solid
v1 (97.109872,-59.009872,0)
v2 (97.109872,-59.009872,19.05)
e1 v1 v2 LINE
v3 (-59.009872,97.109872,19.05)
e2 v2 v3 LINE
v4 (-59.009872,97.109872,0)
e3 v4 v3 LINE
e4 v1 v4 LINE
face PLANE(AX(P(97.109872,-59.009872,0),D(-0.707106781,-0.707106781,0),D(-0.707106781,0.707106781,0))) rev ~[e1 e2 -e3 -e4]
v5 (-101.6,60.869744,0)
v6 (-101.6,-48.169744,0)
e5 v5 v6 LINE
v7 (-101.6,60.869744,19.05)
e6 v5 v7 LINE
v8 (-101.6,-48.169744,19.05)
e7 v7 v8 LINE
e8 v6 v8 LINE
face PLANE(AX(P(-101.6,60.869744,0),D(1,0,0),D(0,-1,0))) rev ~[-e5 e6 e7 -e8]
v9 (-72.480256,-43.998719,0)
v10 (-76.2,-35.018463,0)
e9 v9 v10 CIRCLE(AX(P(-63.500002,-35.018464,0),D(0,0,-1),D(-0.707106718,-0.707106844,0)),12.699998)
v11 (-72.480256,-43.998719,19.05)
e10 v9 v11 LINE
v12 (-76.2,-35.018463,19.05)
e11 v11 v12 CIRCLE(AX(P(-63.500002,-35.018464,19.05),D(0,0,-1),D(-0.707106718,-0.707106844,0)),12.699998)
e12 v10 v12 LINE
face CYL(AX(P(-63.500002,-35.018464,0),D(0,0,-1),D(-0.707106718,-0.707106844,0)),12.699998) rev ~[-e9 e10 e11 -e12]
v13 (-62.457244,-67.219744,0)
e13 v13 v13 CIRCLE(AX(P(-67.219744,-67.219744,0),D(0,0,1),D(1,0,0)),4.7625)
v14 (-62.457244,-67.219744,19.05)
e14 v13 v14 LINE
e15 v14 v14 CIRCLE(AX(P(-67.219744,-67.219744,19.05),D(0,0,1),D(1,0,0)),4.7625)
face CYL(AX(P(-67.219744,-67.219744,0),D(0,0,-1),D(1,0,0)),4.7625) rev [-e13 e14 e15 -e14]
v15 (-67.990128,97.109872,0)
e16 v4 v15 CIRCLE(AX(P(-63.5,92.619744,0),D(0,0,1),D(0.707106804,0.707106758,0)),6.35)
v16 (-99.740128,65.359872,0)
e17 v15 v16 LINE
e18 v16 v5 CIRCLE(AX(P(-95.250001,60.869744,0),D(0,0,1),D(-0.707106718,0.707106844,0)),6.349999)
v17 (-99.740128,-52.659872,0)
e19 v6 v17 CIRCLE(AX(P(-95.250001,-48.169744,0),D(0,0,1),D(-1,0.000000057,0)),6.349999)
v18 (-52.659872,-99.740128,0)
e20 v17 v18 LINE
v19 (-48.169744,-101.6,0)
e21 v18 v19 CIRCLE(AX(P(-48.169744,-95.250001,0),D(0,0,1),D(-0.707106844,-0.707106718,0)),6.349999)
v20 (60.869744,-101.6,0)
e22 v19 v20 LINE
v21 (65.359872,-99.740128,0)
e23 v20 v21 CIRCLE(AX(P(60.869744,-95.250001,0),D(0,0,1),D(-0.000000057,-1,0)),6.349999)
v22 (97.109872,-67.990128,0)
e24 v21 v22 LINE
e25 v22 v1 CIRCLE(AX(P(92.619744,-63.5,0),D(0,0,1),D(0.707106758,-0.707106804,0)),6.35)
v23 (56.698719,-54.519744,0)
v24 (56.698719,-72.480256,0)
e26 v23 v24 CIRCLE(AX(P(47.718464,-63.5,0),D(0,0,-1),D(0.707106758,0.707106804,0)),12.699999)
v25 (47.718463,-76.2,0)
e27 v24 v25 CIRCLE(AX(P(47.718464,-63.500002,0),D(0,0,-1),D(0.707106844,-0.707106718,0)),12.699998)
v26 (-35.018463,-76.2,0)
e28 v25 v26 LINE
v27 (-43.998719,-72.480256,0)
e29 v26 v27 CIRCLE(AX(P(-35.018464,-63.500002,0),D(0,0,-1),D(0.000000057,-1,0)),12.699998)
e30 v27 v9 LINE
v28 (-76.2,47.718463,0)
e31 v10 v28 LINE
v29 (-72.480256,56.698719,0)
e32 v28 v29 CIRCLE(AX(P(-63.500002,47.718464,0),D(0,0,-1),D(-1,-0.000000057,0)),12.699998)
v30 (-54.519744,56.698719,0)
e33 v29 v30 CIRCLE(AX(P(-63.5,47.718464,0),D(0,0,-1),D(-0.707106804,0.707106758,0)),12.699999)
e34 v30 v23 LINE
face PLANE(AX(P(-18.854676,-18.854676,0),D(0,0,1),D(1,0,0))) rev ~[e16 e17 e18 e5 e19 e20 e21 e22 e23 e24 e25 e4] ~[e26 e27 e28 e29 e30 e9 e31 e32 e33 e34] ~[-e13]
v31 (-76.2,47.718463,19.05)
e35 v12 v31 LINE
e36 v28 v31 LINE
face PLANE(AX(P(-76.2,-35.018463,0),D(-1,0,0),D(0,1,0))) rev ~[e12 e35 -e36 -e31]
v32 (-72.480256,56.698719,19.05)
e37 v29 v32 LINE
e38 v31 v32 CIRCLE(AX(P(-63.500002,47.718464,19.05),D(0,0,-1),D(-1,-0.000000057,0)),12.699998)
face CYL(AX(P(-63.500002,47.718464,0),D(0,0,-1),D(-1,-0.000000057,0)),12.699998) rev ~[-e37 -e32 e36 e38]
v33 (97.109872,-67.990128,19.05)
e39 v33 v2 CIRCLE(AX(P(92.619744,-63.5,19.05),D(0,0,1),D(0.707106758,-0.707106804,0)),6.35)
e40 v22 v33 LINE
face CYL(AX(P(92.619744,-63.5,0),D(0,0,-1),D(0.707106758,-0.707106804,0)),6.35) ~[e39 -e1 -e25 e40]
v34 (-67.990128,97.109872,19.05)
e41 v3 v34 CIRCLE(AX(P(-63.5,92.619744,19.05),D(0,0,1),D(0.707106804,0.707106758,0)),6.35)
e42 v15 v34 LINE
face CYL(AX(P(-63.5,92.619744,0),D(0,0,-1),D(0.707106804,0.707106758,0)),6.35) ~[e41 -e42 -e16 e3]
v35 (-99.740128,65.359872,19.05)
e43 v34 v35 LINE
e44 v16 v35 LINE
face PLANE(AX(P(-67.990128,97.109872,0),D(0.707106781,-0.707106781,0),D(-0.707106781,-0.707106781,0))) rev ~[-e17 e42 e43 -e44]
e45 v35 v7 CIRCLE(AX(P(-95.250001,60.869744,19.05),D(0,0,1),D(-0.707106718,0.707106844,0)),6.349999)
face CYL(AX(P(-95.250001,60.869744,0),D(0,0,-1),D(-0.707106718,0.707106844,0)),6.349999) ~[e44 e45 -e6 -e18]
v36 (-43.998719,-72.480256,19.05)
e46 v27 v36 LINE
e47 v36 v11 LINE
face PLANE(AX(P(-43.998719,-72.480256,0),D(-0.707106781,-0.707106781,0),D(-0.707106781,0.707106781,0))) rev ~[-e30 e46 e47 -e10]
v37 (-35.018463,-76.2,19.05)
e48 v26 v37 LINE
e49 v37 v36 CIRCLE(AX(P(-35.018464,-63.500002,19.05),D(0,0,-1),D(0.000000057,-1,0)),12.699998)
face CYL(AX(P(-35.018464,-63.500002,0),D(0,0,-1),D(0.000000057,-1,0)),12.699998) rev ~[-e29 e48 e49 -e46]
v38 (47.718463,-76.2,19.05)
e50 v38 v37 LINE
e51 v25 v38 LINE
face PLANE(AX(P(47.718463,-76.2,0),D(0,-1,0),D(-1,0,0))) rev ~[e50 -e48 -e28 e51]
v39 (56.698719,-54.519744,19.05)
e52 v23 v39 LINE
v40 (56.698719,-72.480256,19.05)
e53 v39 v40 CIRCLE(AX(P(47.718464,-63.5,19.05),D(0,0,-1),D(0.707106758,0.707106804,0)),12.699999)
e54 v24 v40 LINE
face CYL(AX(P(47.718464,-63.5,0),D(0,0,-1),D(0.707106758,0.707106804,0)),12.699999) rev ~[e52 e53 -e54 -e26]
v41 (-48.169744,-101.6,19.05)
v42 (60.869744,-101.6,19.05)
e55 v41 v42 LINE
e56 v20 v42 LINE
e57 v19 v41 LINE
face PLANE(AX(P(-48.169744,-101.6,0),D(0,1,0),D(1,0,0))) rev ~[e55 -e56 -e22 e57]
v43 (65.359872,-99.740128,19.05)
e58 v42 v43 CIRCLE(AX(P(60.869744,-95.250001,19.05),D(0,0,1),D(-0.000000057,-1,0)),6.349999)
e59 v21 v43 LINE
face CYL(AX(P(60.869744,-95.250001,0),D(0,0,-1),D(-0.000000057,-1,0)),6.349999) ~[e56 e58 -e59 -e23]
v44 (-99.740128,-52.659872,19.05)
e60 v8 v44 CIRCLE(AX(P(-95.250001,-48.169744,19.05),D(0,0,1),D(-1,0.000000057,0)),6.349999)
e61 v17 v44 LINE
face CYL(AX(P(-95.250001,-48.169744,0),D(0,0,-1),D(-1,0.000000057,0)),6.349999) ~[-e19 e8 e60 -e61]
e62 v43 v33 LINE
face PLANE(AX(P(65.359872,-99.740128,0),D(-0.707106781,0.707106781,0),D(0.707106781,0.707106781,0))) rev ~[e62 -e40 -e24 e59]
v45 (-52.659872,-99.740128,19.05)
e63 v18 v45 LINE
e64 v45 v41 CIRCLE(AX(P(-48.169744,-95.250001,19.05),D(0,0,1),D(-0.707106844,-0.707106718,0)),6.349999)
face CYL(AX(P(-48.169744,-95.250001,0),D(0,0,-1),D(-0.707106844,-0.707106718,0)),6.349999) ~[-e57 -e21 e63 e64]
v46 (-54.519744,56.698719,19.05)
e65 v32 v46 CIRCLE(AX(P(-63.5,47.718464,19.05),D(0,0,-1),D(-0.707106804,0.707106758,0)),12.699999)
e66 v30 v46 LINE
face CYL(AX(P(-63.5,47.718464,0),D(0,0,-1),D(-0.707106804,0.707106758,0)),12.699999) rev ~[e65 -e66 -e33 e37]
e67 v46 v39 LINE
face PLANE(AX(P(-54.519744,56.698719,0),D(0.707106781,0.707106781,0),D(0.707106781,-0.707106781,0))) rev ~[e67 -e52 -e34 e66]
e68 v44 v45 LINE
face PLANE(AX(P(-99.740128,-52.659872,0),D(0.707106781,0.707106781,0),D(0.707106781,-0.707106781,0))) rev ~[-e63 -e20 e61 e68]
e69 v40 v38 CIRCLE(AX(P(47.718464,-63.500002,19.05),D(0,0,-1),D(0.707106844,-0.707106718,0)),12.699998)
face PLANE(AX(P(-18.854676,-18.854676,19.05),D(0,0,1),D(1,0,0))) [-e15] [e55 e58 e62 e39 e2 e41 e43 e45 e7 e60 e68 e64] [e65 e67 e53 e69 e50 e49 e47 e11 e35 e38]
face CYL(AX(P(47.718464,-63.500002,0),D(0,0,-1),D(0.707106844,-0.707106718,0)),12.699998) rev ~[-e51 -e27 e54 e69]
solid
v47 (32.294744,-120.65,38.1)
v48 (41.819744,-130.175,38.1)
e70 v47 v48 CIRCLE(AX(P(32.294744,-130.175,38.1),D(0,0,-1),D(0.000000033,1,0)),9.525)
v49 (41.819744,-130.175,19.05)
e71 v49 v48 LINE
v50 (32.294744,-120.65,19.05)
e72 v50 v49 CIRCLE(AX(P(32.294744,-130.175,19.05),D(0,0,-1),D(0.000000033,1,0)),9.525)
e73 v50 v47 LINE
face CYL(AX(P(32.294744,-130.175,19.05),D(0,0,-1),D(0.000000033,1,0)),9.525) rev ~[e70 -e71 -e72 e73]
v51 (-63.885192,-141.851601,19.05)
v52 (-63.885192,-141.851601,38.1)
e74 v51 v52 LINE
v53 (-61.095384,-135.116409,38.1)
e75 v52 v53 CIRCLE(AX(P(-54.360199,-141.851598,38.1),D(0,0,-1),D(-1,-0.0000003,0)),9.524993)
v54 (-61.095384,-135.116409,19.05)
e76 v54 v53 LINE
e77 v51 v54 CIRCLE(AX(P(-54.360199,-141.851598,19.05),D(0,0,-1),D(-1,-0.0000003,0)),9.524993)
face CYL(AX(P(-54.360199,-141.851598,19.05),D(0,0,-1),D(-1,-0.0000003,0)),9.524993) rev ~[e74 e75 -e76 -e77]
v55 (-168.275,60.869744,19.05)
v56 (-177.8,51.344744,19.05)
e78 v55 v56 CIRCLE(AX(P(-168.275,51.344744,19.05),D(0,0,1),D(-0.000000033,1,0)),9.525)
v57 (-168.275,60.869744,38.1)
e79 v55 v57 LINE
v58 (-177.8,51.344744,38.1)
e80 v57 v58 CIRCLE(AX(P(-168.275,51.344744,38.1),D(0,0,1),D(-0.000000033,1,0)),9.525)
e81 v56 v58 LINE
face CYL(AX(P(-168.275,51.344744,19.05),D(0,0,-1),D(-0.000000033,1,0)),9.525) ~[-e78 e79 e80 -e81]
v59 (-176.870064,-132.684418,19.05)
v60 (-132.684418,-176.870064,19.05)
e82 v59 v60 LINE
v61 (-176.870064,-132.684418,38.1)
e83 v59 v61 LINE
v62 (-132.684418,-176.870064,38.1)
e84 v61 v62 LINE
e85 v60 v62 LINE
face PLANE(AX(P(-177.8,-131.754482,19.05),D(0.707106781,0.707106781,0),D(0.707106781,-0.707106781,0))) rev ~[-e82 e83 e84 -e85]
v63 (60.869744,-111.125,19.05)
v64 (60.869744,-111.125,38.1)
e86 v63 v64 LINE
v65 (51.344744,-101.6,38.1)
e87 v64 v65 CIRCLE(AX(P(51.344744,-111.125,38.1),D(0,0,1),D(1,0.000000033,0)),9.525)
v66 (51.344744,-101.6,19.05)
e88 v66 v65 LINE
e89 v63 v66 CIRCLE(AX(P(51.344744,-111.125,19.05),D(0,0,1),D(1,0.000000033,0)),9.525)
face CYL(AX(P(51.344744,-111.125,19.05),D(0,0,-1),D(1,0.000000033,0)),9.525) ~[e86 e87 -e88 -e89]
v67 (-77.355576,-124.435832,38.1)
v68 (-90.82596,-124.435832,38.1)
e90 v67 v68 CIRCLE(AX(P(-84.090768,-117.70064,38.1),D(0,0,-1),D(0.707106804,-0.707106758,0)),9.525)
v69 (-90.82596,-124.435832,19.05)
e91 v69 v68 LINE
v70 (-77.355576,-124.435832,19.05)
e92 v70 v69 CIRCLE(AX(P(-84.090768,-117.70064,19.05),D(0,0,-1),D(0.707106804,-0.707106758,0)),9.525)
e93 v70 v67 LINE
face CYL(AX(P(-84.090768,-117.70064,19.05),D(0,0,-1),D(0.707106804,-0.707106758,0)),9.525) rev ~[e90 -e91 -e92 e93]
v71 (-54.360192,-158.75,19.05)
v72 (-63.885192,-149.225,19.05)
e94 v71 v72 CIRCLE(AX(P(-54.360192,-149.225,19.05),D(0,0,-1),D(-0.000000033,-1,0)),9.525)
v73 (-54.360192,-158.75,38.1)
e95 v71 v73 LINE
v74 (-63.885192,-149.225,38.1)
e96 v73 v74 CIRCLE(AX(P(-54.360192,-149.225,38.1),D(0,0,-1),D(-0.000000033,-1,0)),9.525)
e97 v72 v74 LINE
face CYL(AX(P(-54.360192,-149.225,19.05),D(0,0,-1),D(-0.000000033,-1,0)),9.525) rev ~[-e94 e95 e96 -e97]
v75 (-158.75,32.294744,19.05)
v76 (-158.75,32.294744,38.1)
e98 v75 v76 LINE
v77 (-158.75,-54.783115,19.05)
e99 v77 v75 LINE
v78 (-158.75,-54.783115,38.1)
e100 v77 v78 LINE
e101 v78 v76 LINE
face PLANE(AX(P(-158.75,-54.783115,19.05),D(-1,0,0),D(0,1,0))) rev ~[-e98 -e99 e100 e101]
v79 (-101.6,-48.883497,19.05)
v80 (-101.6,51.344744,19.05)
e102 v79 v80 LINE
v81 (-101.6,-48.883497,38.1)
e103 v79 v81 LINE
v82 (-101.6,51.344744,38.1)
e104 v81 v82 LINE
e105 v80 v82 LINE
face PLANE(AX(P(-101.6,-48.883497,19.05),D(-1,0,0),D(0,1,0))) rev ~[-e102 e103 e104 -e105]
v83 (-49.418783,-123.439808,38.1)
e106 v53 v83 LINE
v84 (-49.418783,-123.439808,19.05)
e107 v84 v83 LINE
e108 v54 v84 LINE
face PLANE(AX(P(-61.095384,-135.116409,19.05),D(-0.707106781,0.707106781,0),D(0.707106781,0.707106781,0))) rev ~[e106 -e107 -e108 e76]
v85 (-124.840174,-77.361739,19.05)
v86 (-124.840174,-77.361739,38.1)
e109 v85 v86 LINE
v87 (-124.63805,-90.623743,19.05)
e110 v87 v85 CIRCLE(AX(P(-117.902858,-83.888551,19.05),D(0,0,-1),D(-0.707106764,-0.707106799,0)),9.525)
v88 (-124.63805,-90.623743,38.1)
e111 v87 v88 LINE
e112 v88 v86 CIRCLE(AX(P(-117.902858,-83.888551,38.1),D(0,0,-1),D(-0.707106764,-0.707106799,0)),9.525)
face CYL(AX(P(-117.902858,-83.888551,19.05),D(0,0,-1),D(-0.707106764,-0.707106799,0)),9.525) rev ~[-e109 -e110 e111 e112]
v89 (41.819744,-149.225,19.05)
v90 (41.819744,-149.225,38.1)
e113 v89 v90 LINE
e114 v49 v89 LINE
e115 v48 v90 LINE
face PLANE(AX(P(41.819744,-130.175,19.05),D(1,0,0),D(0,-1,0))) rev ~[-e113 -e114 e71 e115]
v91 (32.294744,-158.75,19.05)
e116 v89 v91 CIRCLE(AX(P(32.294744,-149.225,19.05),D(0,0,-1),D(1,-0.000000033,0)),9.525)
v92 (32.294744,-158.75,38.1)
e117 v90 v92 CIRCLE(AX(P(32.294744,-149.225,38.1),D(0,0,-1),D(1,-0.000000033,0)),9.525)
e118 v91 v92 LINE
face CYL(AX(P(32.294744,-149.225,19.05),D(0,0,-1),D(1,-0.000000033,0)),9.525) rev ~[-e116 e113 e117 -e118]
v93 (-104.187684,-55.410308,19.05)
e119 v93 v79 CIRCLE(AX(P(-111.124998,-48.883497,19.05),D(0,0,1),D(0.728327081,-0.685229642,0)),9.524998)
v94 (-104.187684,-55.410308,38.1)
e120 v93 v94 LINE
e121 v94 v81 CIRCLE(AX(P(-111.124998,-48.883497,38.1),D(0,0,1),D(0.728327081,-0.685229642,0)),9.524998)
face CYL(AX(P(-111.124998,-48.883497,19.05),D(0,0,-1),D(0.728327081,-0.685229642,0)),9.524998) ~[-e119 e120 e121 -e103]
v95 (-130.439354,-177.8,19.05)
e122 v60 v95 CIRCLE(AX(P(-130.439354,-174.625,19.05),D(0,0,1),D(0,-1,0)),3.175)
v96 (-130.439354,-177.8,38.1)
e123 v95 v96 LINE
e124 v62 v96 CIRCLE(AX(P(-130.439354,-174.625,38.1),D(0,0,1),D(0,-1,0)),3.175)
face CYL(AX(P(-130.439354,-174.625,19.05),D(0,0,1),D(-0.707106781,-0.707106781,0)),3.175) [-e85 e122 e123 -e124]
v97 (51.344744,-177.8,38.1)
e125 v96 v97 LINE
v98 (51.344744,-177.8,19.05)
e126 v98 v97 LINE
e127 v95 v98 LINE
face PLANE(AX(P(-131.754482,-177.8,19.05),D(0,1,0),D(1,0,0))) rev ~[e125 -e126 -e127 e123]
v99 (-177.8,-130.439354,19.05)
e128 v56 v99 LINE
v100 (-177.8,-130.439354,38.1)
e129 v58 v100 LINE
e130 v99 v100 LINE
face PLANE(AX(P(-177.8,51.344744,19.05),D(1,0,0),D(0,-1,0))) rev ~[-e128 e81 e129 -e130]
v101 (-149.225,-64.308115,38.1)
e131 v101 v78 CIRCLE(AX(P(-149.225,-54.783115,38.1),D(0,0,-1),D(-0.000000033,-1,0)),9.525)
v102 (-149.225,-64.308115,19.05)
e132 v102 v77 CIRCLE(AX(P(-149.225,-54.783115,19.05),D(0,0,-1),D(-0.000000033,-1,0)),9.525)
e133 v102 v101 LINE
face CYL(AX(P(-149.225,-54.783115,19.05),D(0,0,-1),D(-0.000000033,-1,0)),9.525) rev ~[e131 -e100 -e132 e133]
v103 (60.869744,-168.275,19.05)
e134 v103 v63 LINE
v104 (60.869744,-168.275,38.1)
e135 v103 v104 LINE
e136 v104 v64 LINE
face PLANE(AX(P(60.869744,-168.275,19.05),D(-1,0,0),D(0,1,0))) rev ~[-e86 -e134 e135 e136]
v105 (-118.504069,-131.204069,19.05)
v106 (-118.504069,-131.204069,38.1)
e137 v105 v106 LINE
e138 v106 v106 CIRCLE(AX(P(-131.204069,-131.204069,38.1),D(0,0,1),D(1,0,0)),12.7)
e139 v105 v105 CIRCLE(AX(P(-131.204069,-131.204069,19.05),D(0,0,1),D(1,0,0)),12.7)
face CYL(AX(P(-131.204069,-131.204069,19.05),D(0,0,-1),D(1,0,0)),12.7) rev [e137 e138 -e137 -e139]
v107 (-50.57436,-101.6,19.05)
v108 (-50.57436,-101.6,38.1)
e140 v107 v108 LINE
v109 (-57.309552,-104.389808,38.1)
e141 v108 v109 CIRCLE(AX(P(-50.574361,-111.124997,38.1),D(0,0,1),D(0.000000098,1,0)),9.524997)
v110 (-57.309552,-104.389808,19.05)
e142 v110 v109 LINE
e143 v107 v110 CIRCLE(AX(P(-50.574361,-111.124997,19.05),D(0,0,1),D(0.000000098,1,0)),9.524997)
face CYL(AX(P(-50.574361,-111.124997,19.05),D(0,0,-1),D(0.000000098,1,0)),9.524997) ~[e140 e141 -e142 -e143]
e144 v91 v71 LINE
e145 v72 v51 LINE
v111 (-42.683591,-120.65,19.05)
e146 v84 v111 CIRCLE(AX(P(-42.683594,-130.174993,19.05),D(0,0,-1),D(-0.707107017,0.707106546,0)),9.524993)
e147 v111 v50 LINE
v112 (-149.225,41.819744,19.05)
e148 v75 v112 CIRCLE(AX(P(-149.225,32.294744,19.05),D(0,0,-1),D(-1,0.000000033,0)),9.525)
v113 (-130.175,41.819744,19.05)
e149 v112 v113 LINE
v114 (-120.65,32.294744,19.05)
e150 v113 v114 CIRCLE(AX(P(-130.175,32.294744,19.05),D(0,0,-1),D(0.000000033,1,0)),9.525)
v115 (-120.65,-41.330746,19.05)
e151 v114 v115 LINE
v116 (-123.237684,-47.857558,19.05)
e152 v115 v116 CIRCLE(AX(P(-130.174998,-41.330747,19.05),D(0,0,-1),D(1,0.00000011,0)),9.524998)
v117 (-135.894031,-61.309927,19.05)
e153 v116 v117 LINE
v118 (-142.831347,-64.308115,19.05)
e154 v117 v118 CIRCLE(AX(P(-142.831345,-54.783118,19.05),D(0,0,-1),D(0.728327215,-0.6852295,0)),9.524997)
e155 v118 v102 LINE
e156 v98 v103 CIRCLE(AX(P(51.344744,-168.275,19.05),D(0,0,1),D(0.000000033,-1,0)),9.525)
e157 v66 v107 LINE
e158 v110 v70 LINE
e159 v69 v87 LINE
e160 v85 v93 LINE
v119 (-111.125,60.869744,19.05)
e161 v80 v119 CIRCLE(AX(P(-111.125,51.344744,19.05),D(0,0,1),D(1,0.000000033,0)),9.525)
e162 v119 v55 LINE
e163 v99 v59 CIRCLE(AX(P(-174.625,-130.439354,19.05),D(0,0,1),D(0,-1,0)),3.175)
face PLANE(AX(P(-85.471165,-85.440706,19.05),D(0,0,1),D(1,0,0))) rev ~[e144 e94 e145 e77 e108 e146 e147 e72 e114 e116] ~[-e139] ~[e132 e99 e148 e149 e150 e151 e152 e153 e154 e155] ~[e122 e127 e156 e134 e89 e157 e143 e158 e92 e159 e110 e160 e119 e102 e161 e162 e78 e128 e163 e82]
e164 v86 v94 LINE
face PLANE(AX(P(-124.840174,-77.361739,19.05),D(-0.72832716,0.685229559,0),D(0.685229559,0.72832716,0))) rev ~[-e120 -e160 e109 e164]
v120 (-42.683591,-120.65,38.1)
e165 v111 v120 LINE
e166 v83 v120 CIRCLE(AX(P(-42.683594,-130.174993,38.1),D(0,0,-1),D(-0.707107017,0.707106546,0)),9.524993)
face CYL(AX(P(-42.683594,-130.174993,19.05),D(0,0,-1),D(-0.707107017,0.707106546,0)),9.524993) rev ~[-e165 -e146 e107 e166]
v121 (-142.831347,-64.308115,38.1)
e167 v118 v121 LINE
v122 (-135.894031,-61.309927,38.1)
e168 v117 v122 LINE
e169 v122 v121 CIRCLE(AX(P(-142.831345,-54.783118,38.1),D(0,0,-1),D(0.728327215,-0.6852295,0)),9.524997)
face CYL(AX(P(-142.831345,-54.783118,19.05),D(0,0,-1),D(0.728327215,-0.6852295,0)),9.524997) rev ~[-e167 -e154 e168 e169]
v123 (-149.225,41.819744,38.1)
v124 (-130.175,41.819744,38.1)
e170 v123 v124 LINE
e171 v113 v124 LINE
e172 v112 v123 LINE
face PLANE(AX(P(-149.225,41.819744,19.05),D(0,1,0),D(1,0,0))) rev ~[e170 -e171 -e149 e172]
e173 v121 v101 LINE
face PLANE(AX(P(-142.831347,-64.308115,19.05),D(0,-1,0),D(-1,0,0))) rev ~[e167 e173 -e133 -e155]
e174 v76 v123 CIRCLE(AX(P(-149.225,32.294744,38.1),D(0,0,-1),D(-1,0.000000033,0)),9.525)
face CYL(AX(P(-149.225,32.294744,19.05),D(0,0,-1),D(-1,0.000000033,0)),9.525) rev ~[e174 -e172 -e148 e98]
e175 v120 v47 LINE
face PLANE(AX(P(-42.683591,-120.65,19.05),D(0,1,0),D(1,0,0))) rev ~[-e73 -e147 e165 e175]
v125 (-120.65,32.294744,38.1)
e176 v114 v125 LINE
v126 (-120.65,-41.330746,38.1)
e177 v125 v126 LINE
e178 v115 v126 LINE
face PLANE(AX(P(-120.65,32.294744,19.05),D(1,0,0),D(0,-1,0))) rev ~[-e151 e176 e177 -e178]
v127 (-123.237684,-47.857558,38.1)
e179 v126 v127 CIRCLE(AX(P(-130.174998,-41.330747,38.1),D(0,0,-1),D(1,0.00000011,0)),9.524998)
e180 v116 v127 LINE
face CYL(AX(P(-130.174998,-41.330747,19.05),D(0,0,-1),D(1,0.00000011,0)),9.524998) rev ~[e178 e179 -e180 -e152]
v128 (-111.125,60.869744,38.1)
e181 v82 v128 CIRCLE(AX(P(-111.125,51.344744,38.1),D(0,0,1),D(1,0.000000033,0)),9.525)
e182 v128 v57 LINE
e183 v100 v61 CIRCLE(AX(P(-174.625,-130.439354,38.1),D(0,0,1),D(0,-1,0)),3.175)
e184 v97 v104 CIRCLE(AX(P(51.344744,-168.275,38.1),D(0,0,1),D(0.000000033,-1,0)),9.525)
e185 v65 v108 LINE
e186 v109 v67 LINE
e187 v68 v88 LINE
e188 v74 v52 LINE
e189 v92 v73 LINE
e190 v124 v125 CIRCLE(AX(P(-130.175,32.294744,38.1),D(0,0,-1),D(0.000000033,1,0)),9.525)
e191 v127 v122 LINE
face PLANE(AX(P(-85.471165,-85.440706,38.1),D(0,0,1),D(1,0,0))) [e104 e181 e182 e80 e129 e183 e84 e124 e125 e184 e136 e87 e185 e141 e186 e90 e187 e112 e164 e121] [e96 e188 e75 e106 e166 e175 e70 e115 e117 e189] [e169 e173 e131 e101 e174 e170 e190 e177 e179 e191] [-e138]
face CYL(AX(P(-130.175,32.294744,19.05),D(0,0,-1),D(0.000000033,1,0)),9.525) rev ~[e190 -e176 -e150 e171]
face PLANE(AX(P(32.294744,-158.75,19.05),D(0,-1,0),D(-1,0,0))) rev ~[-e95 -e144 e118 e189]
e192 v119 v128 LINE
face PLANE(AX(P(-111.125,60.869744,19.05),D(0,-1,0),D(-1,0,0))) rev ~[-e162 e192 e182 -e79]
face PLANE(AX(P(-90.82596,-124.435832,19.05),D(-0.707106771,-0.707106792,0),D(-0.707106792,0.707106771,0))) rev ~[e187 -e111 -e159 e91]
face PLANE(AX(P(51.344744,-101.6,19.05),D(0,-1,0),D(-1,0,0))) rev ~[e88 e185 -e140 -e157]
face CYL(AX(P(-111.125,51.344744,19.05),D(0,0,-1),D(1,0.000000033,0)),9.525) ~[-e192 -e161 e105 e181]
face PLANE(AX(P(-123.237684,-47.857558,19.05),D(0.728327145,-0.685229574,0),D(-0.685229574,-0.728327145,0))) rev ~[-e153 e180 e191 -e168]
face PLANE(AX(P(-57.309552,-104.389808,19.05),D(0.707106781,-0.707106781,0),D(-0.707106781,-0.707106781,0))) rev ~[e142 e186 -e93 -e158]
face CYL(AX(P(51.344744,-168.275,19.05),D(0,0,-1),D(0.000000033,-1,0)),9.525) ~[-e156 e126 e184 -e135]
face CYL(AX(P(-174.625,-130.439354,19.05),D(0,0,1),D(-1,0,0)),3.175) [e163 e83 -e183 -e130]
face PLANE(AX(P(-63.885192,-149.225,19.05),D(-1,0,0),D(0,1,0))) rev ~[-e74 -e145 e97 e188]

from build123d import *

# Parameters (mm, degrees)
F0_R     = 4.7625
F1_DEPTH = 19.05
F2_R     = 12.7
F3_DEPTH = 19.05
F4_R     = 3.175


with BuildPart() as f1:
    # F0 (on Top) → F1 (new body)
    with BuildSketch(Plane.XY):
        with BuildLine():
            ThreePointArc((-52.659872, -99.740128), (-50.599784, -101.116635), (-48.169744, -101.6))
            Line((-48.169744, -101.6), (60.869744, -101.6))
            ThreePointArc((60.869744, -101.6), (63.299784, -101.116635), (65.359872, -99.740128))
            Line((65.359872, -99.740128), (97.109872, -67.990128))
            ThreePointArc((97.109872, -67.990128), (98.969744, -63.5), (97.109872, -59.009872))
            Line((97.109872, -59.009872), (-59.009872, 97.109872))
            ThreePointArc((-59.009872, 97.109872), (-63.5, 98.969744), (-67.990128, 97.109872))
            Line((-67.990128, 97.109872), (-99.740128, 65.359872))
            ThreePointArc((-99.740128, 65.359872), (-101.116635, 63.299784), (-101.6, 60.869744))
            Line((-101.6, 60.869744), (-101.6, -48.169744))
            ThreePointArc((-101.6, -48.169744), (-101.116635, -50.599784), (-99.740128, -52.659872))
            Line((-99.740128, -52.659872), (-52.659872, -99.740128))
        make_face()
        with Locations((-67.219744, -67.219744)):
            Circle(F0_R, mode=Mode.SUBTRACT)
        with BuildLine():
            Line((-43.998719, -72.480256), (-72.480256, -43.998719))
            ThreePointArc((-72.480256, -43.998719), (-75.23327, -39.878543), (-76.2, -35.018463))
            Line((-76.2, -35.018463), (-76.2, 47.718463))
            ThreePointArc((-76.2, 47.718463), (-75.23327, 52.578543), (-72.480256, 56.698719))
            ThreePointArc((-72.480256, 56.698719), (-63.5, 60.418463), (-54.519744, 56.698719))
            Line((-54.519744, 56.698719), (56.698719, -54.519744))
            ThreePointArc((56.698719, -54.519744), (60.418463, -63.5), (56.698719, -72.480256))
            ThreePointArc((56.698719, -72.480256), (52.578543, -75.23327), (47.718463, -76.2))
            Line((47.718463, -76.2), (-35.018463, -76.2))
            ThreePointArc((-35.018463, -76.2), (-39.878543, -75.23327), (-43.998719, -72.480256))
        make_face(mode=Mode.SUBTRACT)
    extrude(amount=F1_DEPTH)


with BuildPart() as f3:
    # F2 (on face) → F3 (new body)
    with BuildSketch(Plane.XY.offset(19.05)):
        with BuildLine():
            Line((-101.6, -48.169744), (-101.6, 51.344744))
            ThreePointArc((-101.6, 51.344744), (-104.389808, 58.079936), (-111.125, 60.869744))
            Line((-111.125, 60.869744), (-168.275, 60.869744))
            ThreePointArc((-168.275, 60.869744), (-175.010192, 58.079936), (-177.8, 51.344744))
            Line((-177.8, 51.344744), (-177.8, -131.754482))
            Line((-177.8, -131.754482), (-131.754482, -177.8))
            Line((-131.754482, -177.8), (51.344744, -177.8))
            ThreePointArc((51.344744, -177.8), (58.079936, -175.010192), (60.869744, -168.275))
            Line((60.869744, -168.275), (60.869744, -111.125))
            ThreePointArc((60.869744, -111.125), (58.079936, -104.389808), (51.344744, -101.6))
            Line((51.344744, -101.6), (-48.169744, -101.6))
            Line((-48.169744, -101.6), (-50.57436, -101.6))
            ThreePointArc((-50.57436, -101.6), (-54.219419, -102.325047), (-57.309552, -104.389808))
            Line((-57.309552, -104.389808), (-77.355576, -124.435832))
            ThreePointArc((-77.355576, -124.435832), (-84.090768, -127.22564), (-90.82596, -124.435832))
            Line((-90.82596, -124.435832), (-124.63805, -90.623743))
            ThreePointArc((-124.63805, -90.623743), (-127.426752, -84.033703), (-124.840174, -77.361739))
            Line((-124.840174, -77.361739), (-104.187684, -55.410308))
            ThreePointArc((-104.187684, -55.410308), (-102.270522, -52.39403), (-101.6, -48.883497))
            Line((-101.6, -48.883497), (-101.6, -48.169744))
        make_face()
        with Locations((-131.204069, -131.204069)):
            Circle(F2_R, mode=Mode.SUBTRACT)
        with BuildLine():
            ThreePointArc((-63.885192, -141.851601), (-63.160145, -138.206541), (-61.095384, -135.116409))
            Line((-61.095384, -135.116409), (-49.418783, -123.439808))
            ThreePointArc((-49.418783, -123.439808), (-46.328651, -121.375047), (-42.683591, -120.65))
            Line((-42.683591, -120.65), (32.294744, -120.65))
            ThreePointArc((32.294744, -120.65), (39.029936, -123.439808), (41.819744, -130.175))
            Line((41.819744, -130.175), (41.819744, -149.225))
            ThreePointArc((41.819744, -149.225), (39.029936, -155.960192), (32.294744, -158.75))
            Line((32.294744, -158.75), (-54.360192, -158.75))
            ThreePointArc((-54.360192, -158.75), (-61.095384, -155.960192), (-63.885192, -149.225))
            Line((-63.885192, -149.225), (-63.885192, -141.851601))
        make_face(mode=Mode.SUBTRACT)
        with BuildLine():
            Line((-158.75, -54.783115), (-158.75, 32.294744))
            ThreePointArc((-158.75, 32.294744), (-155.960192, 39.029936), (-149.225, 41.819744))
            Line((-149.225, 41.819744), (-130.175, 41.819744))
            ThreePointArc((-130.175, 41.819744), (-123.439808, 39.029936), (-120.65, 32.294744))
            Line((-120.65, 32.294744), (-120.65, -41.330746))
            ThreePointArc((-120.65, -41.330746), (-121.320522, -44.84128), (-123.237684, -47.857558))
            Line((-123.237684, -47.857558), (-135.894031, -61.309927))
            ThreePointArc((-135.894031, -61.309927), (-139.052608, -63.526499), (-142.831347, -64.308115))
            Line((-142.831347, -64.308115), (-149.225, -64.308115))
            ThreePointArc((-149.225, -64.308115), (-155.960192, -61.518307), (-158.75, -54.783115))
        make_face(mode=Mode.SUBTRACT)
    extrude(amount=F3_DEPTH)

    # F4
    f4_edges = [f3.edges().sort_by_distance(p)[0] for p in [
        (-131.754482, -177.8, 28.575),
        (-177.8, -131.754482, 28.575),
    ]]
    fillet(f4_edges, radius=F4_R)


solid = Compound([f1.part, f3.part])
